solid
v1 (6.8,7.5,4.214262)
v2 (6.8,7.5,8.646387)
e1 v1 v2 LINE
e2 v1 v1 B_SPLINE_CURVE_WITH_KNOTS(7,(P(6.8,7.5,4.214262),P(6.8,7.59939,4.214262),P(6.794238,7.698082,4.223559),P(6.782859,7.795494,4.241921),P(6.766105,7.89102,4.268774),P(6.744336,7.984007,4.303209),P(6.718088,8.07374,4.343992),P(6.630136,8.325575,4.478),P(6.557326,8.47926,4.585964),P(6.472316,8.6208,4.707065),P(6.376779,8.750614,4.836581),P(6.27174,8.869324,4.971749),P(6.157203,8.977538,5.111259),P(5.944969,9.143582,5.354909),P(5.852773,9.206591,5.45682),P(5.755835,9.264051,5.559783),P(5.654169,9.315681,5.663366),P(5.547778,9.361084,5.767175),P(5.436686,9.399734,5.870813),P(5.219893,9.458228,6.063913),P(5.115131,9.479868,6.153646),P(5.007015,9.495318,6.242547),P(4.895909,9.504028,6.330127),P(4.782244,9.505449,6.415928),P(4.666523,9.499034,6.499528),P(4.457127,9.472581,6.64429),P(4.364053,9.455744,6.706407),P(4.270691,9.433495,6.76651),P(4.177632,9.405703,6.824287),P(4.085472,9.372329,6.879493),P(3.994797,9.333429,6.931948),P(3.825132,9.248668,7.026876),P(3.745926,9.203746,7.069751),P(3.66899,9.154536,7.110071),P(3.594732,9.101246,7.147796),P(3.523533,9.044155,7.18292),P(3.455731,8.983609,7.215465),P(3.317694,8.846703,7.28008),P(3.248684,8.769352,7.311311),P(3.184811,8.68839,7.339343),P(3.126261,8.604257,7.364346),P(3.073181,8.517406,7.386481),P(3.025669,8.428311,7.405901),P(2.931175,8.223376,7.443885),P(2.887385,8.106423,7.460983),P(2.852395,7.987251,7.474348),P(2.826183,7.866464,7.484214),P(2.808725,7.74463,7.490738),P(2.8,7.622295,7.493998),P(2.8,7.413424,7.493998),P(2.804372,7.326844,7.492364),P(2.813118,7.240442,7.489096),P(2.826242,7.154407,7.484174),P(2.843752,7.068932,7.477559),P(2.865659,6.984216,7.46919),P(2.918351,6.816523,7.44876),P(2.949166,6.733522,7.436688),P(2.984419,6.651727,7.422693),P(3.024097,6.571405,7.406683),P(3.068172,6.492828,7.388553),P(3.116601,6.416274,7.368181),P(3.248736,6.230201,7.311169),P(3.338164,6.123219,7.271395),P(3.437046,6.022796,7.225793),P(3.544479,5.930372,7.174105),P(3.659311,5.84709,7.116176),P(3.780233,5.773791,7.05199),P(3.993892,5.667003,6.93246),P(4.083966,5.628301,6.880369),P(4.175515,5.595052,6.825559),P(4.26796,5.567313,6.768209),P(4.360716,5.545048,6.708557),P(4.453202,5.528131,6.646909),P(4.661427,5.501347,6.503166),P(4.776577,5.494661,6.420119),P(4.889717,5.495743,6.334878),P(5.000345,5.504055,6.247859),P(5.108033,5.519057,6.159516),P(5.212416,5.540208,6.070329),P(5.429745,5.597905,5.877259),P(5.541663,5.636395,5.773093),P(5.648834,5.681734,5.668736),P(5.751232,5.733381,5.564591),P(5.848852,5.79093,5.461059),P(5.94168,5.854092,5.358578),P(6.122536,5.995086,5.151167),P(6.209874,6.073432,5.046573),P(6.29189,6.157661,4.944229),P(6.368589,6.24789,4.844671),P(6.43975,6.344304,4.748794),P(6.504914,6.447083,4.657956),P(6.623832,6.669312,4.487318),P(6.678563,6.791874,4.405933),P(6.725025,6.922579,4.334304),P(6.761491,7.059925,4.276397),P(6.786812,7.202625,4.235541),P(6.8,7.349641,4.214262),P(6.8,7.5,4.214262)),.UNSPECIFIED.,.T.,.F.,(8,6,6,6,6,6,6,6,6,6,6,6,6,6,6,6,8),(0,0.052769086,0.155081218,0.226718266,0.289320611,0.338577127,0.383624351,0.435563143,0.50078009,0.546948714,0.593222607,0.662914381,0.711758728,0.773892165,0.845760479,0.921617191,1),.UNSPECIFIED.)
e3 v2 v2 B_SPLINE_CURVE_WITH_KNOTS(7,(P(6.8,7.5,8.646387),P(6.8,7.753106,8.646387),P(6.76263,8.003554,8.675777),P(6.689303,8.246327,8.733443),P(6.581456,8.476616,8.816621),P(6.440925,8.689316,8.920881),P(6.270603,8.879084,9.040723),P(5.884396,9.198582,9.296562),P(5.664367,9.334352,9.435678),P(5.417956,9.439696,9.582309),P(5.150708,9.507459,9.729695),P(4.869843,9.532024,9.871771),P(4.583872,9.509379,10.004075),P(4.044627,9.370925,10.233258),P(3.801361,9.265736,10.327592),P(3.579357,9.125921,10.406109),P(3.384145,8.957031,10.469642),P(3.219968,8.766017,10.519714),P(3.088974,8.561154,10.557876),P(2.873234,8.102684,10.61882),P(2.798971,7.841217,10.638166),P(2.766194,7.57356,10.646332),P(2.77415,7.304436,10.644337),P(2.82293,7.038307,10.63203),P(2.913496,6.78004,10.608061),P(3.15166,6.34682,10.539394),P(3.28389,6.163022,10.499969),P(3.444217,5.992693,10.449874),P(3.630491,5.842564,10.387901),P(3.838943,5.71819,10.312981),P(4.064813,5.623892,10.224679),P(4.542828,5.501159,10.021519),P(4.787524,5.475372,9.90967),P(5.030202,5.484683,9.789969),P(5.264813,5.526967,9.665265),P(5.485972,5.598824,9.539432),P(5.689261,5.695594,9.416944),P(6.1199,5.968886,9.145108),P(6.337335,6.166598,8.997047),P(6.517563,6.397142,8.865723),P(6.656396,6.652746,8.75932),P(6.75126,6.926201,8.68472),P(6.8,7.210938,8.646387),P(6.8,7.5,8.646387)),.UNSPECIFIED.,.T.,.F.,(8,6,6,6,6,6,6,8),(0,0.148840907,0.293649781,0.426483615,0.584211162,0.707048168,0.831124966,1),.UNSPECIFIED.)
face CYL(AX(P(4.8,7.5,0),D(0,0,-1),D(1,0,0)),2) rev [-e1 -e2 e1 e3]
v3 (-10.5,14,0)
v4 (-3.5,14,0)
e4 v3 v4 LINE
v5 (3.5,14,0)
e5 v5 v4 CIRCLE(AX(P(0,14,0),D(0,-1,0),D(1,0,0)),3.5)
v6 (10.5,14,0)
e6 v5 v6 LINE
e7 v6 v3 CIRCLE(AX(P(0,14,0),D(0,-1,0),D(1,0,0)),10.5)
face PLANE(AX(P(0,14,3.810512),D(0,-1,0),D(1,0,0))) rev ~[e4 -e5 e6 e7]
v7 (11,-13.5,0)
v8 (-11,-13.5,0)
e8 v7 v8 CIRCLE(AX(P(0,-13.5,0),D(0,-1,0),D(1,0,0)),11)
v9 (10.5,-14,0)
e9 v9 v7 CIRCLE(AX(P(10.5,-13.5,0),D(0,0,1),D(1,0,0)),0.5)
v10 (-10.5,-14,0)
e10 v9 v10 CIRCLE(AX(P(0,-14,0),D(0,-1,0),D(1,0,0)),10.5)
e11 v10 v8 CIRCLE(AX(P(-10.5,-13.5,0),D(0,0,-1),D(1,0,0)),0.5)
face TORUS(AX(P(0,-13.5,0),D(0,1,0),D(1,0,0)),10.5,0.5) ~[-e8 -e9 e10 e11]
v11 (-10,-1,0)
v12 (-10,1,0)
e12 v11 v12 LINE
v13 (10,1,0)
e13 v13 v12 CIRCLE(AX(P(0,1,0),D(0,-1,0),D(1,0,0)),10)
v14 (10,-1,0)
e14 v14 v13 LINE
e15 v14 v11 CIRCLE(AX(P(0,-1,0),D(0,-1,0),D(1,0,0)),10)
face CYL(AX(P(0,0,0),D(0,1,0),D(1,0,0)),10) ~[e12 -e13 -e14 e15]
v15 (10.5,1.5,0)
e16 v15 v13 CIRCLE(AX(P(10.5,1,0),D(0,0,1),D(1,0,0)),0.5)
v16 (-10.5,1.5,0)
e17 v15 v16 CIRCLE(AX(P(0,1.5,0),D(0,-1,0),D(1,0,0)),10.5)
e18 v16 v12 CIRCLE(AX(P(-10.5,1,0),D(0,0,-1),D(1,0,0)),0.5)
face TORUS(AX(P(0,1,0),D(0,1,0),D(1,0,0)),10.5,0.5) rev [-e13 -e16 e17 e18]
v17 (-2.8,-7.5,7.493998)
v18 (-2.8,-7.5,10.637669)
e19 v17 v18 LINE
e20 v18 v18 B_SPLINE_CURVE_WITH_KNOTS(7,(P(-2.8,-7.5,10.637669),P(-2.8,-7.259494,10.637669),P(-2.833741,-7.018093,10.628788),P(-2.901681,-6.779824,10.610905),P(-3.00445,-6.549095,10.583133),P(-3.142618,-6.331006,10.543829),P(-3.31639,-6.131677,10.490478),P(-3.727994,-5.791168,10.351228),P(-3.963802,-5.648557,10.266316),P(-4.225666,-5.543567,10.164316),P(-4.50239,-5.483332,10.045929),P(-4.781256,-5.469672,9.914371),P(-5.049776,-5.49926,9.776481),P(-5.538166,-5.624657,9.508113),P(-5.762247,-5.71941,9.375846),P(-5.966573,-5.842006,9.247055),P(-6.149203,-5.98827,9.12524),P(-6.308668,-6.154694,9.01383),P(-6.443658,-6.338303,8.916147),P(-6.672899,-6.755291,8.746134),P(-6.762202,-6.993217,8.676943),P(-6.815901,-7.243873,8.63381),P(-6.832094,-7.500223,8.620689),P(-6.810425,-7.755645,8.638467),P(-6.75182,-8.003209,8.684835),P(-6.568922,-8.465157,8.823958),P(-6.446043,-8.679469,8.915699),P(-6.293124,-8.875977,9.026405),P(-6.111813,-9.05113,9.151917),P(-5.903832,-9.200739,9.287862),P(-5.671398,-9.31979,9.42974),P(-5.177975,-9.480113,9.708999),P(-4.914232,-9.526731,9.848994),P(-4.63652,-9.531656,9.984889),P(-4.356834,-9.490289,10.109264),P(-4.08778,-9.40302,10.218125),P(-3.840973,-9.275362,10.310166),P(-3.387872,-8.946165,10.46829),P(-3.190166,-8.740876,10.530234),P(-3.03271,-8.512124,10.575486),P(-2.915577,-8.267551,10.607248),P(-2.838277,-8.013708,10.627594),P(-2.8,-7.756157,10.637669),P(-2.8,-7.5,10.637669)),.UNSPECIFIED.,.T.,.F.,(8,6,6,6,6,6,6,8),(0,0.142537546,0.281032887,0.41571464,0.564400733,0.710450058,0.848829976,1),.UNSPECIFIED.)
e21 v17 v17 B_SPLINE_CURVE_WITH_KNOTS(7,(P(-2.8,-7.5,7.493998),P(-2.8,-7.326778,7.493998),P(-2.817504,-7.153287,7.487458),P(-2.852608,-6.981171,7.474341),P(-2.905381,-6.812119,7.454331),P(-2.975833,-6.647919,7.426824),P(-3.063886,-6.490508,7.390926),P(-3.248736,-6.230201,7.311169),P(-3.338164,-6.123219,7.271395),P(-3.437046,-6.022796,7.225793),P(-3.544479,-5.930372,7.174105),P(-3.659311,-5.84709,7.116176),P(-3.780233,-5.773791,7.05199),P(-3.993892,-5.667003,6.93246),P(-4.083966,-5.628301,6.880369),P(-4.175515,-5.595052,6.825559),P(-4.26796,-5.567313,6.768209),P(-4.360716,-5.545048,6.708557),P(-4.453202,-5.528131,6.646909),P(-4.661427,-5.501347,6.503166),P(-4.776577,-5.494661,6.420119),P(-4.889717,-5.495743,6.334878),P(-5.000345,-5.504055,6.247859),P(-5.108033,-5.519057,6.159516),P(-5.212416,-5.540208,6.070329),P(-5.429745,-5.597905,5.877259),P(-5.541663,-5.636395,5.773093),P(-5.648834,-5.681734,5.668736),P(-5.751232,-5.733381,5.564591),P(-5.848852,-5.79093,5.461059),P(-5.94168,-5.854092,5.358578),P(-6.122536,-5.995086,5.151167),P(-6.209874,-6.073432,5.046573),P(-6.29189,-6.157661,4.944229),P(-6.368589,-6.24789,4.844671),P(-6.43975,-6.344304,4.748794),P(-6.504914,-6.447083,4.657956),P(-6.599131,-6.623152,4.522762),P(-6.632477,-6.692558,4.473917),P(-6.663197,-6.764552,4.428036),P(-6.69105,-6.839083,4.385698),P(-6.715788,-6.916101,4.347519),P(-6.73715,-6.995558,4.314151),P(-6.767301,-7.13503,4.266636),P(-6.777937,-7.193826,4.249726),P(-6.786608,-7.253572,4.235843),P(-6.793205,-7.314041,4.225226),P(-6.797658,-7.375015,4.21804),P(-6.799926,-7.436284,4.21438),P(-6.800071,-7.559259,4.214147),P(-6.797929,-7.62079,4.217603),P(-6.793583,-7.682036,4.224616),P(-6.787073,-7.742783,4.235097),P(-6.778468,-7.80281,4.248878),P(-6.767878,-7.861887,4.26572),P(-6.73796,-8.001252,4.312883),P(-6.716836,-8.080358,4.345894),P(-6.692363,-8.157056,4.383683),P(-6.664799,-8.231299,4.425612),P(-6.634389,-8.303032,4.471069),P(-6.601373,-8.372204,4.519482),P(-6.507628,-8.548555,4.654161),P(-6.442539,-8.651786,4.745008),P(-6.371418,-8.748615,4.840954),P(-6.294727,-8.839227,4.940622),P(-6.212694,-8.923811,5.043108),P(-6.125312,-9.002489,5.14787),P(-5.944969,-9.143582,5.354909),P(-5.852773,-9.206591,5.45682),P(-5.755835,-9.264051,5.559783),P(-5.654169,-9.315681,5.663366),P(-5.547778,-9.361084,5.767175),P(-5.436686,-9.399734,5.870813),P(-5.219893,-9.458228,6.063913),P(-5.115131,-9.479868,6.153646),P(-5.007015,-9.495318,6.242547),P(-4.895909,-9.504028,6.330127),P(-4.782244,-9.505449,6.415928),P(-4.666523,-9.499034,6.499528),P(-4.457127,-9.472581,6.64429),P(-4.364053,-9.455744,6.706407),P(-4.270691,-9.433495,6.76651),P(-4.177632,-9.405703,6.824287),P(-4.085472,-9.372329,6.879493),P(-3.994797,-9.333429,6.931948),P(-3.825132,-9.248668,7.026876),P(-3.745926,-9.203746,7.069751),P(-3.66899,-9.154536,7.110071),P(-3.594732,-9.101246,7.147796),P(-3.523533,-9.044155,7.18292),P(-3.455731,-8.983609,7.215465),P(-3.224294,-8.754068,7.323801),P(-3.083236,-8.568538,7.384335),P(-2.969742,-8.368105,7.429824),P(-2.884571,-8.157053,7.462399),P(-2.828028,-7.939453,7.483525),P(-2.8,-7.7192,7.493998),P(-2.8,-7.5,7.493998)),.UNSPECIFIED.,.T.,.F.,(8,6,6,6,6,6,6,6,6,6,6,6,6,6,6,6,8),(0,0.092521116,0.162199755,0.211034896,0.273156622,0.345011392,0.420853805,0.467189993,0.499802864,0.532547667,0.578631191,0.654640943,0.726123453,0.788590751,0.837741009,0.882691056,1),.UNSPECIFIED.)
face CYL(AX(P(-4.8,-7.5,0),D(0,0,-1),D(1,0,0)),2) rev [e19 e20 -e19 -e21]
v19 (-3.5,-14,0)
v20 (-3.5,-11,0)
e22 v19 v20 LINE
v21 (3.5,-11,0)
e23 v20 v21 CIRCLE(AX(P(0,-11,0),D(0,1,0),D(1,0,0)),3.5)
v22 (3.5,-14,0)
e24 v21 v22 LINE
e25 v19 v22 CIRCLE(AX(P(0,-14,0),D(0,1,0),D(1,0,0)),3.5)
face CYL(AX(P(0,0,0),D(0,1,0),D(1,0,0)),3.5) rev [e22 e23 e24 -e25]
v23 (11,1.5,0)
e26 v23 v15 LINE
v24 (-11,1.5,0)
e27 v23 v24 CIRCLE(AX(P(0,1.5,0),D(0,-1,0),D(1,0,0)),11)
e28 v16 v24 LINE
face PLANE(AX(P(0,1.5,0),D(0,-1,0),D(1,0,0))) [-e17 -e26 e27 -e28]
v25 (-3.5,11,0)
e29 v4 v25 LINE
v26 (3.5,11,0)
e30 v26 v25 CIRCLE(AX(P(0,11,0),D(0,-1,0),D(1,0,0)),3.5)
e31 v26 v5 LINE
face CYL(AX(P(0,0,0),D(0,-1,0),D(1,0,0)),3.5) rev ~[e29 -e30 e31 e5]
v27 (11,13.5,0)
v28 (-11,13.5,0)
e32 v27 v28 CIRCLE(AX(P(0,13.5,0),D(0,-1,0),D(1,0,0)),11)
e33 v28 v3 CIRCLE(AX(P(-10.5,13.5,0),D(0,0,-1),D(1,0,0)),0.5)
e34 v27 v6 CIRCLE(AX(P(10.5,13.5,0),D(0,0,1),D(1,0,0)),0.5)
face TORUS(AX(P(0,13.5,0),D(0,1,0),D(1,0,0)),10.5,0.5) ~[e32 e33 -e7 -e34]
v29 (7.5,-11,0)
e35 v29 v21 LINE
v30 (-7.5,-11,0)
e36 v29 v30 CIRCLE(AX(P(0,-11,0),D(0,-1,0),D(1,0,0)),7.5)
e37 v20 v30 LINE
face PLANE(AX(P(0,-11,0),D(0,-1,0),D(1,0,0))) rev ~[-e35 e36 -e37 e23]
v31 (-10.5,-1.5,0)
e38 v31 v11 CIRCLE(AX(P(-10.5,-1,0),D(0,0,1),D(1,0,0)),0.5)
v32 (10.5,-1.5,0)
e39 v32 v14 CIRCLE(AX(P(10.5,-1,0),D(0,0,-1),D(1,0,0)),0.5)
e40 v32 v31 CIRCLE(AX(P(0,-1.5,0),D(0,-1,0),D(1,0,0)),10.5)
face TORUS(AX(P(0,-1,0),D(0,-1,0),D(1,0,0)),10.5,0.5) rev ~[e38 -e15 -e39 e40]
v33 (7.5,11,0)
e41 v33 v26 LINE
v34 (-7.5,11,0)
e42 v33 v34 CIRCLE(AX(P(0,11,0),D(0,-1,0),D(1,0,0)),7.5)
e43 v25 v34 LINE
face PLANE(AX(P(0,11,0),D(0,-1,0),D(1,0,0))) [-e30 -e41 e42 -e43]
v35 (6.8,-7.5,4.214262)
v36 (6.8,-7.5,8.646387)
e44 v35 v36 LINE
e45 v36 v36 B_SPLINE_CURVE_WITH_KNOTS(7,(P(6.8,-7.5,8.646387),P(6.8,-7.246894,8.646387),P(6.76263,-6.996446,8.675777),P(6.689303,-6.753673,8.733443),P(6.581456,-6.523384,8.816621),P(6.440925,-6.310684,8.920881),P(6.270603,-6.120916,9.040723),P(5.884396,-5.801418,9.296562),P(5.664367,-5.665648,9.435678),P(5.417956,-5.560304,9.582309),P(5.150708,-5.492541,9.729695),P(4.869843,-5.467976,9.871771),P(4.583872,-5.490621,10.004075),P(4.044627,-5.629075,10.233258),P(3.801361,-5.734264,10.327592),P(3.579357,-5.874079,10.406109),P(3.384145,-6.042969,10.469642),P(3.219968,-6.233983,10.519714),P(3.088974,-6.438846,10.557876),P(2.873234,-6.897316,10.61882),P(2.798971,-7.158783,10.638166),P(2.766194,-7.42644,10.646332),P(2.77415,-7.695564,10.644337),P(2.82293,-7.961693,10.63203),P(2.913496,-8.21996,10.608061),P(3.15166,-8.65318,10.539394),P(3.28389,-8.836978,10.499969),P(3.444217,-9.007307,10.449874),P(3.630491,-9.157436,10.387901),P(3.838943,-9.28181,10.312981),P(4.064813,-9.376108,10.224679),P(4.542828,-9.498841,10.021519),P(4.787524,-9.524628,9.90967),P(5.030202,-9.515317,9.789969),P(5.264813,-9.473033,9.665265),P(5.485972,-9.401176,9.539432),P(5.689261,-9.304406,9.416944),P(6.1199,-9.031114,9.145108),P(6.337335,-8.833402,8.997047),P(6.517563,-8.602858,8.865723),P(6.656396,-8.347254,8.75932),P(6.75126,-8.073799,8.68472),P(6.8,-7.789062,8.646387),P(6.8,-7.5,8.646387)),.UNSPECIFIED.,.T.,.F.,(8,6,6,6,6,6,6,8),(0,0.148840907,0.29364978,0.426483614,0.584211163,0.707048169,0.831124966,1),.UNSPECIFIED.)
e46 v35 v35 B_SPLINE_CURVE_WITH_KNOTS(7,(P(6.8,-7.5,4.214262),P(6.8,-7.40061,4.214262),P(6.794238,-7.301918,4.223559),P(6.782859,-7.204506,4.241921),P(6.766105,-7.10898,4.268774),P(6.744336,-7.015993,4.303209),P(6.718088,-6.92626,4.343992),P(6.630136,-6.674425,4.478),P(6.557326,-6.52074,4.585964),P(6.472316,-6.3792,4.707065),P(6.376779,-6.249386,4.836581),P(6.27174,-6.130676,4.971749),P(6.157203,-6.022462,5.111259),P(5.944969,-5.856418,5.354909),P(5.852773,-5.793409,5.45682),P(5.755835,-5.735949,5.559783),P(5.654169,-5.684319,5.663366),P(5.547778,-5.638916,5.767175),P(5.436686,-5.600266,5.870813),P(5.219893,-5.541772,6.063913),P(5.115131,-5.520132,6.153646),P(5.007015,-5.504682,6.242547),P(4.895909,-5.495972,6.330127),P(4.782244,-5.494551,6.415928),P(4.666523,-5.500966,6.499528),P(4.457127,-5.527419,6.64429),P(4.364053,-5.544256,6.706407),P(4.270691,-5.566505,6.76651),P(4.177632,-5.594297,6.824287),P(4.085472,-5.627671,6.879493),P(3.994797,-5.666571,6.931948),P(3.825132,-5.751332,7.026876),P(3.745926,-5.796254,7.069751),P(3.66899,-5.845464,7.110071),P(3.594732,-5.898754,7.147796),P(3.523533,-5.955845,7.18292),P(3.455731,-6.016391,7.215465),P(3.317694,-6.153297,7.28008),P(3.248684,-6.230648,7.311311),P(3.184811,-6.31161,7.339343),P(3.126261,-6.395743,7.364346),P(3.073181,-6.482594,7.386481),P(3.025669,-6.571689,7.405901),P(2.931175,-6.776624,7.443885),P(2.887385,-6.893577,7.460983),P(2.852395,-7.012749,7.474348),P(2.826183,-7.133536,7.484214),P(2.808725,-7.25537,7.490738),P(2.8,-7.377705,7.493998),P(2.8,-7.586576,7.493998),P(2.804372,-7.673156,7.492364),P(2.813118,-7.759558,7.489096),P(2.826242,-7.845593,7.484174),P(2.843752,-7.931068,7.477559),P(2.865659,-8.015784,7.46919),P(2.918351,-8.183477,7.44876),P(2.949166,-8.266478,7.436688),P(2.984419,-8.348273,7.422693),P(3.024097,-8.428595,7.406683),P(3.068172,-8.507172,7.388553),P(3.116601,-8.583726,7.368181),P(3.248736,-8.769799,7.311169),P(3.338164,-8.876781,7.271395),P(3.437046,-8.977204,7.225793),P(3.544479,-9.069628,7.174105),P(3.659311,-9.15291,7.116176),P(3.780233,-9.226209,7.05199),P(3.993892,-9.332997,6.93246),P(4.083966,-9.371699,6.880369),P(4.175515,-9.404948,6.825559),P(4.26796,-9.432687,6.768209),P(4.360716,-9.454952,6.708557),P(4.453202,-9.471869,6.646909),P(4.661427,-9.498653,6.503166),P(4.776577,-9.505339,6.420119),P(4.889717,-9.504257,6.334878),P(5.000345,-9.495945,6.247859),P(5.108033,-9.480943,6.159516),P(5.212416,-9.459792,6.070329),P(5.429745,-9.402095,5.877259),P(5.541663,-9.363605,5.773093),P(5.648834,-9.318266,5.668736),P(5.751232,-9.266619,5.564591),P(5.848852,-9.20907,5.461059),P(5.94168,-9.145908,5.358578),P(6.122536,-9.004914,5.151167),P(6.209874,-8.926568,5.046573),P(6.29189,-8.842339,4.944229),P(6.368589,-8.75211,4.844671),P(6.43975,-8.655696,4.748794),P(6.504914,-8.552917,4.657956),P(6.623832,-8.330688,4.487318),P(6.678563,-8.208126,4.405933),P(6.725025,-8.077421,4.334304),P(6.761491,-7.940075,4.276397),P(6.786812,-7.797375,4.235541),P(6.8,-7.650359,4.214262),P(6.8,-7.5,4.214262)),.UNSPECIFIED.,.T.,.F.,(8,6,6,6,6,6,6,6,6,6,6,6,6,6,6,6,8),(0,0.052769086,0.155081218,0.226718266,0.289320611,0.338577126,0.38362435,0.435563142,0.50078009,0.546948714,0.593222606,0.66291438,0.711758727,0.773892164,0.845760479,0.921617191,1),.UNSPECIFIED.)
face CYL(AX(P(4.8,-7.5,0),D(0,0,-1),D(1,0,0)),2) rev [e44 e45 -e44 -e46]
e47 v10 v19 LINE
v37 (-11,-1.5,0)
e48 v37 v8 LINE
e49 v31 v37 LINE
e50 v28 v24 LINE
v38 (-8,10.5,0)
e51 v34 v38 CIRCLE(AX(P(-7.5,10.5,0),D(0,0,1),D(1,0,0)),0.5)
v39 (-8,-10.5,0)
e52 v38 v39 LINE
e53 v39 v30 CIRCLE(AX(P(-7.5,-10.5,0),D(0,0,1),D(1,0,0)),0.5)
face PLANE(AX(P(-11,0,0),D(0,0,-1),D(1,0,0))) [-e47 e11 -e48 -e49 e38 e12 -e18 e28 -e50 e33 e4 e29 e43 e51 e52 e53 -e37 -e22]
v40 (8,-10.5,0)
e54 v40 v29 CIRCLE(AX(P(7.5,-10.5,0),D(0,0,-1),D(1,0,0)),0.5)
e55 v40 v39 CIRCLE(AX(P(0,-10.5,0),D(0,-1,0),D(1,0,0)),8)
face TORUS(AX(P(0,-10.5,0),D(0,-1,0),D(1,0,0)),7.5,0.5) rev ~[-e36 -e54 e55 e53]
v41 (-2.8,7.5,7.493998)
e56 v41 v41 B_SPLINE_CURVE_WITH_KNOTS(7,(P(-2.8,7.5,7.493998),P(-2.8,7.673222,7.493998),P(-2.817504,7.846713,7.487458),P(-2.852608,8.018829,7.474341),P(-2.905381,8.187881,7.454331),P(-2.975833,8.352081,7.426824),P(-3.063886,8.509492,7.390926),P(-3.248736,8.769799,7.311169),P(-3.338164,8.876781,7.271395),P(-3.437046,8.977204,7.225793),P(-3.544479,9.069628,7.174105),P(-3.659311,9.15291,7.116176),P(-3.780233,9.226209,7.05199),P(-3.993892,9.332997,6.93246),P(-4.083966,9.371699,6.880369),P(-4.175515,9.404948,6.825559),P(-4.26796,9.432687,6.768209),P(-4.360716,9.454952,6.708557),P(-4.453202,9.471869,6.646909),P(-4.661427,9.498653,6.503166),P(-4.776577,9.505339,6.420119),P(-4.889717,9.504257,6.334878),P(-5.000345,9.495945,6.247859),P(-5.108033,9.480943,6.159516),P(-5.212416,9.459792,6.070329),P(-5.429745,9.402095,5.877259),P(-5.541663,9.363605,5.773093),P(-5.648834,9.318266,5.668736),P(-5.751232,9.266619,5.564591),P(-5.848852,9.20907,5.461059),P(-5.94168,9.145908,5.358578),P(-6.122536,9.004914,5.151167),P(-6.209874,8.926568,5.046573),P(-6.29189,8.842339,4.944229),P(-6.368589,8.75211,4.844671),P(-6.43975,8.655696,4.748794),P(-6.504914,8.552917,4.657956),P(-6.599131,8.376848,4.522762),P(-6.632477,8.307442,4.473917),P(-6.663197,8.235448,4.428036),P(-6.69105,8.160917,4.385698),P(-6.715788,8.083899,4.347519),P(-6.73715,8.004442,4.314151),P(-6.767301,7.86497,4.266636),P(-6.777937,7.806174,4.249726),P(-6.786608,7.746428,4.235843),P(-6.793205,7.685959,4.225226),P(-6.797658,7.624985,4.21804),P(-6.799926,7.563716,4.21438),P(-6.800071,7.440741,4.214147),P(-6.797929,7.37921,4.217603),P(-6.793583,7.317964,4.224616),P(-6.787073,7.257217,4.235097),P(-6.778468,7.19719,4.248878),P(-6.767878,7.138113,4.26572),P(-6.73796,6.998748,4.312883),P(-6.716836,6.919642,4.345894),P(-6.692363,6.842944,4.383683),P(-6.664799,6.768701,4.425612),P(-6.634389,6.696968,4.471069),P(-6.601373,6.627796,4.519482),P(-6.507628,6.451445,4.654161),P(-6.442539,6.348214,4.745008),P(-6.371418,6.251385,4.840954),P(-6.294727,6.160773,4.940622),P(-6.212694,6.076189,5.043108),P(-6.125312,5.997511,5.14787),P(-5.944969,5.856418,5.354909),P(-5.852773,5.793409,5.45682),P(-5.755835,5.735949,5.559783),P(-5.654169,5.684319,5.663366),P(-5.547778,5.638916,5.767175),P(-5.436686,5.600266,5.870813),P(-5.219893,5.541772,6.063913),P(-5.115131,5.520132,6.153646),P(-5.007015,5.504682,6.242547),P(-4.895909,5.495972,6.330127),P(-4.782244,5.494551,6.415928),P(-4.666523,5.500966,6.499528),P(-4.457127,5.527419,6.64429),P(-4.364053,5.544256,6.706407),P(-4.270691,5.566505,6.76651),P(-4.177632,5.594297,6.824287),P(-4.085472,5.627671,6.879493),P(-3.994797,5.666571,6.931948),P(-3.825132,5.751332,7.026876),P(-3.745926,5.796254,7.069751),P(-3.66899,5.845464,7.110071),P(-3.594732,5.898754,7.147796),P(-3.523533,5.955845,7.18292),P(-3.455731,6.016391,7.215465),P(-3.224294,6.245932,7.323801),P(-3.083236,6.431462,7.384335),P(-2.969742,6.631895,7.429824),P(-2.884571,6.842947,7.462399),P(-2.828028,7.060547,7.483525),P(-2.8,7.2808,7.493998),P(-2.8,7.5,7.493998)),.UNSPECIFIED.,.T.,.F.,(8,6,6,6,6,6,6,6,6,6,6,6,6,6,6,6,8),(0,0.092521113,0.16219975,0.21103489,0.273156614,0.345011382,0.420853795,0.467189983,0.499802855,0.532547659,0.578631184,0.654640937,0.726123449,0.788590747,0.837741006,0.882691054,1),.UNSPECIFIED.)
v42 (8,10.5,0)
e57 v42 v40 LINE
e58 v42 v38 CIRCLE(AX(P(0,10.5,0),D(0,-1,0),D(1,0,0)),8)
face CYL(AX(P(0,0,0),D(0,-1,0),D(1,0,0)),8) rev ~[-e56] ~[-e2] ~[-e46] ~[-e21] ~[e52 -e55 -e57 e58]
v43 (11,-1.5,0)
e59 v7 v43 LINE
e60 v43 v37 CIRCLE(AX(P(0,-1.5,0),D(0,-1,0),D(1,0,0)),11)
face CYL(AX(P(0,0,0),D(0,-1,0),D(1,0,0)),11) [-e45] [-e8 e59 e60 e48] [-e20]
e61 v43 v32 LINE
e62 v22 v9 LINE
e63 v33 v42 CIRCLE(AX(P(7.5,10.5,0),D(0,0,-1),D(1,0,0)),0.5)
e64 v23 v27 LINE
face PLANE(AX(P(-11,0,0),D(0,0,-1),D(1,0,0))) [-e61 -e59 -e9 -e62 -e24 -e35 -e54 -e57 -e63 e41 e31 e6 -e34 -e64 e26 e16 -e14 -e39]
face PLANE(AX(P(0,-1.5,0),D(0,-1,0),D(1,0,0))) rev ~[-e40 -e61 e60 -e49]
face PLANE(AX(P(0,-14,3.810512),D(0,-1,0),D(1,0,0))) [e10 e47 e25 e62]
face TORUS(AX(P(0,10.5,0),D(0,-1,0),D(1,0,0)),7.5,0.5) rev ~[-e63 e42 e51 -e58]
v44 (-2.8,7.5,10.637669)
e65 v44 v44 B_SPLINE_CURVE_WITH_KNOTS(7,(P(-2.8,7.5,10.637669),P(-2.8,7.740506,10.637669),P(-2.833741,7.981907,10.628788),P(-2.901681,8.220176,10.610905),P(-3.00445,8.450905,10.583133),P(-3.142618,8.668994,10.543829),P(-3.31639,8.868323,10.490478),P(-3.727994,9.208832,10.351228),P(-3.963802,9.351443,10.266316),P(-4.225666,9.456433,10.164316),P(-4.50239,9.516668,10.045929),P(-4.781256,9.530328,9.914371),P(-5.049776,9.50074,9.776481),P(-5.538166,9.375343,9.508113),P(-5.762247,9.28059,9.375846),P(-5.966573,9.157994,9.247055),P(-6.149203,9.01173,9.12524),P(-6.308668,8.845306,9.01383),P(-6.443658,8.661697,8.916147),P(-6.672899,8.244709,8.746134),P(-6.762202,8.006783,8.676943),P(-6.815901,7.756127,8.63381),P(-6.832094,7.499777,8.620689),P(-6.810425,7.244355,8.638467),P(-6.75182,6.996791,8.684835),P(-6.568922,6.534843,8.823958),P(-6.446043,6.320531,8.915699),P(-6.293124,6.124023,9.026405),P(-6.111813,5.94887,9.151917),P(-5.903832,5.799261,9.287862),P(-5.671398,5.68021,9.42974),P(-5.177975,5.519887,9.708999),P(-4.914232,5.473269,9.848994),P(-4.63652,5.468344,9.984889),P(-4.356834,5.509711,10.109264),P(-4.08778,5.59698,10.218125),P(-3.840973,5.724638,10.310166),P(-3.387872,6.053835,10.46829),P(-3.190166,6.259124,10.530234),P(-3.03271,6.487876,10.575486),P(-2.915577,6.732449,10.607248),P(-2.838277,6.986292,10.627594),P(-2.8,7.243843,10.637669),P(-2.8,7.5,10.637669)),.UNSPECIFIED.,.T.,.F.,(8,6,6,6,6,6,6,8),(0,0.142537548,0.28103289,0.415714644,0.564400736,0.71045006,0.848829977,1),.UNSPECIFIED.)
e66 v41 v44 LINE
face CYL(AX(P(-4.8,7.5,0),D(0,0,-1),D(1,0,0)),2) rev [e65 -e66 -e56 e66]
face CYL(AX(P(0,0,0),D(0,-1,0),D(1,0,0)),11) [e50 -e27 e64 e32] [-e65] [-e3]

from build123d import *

# Parameters (mm, degrees)
F1_DEPTH      = 14
F2_R          = 8
F3_DEPTH      = 11
F4_R          = 3.5
F5_DEPTH      = 14.001
F5_DEPTH_BACK = 14.001
F6_R          = 2
F7_DEPTH      = 11.001
F8_R          = 11
F8_R_2        = 10
F9_DEPTH      = 1.5
F10_R         = 0.5


with BuildPart() as f1:
    # F0 (on Front) → F1 (new body, symmetric)
    with BuildSketch(Plane.XZ):
        with BuildLine():
            Line((8, 0), (11, 0))
            ThreePointArc((11, 0), (0, 11), (-11, 0))
            Line((-11, 0), (-8, 0))
            Line((-8, 0), (8, 0))
        make_face()
    extrude(amount=F1_DEPTH, both=True)

    # F2 (on Front) → F3 (cut, symmetric)
    with BuildSketch(Plane.XZ):
        Circle(F2_R)
    extrude(amount=F3_DEPTH, both=True, mode=Mode.SUBTRACT)

    # F4 (on Front) → F5 (cut, two sides)
    with BuildSketch(Plane.XZ) as f5_sk:
        Circle(F4_R)
    extrude(amount=-F5_DEPTH, mode=Mode.SUBTRACT)
    extrude(f5_sk.sketch, amount=F5_DEPTH_BACK, mode=Mode.SUBTRACT)

    # F6 (on Top) → F7 (cut, through all)
    with BuildSketch(Plane.XY):
        with Locations((4.8, 7.5)):
            Circle(F6_R)
        with Locations((-4.8, 7.5)):
            Circle(F6_R)
        with Locations((4.8, -7.5)):
            Circle(F6_R)
        with Locations((-4.8, -7.5)):
            Circle(F6_R)
    extrude(amount=F7_DEPTH, mode=Mode.SUBTRACT)

    # F8 (on Front) → F9 (cut, symmetric)
    with BuildSketch(Plane.XZ):
        Circle(F8_R)
        Circle(F8_R_2, mode=Mode.SUBTRACT)
    extrude(amount=F9_DEPTH, both=True, mode=Mode.SUBTRACT)

    # F10
    f10_edges = [f1.edges().sort_by_distance(p)[0] for p in [
        (0, 1.5, 10),
        (0, -1.5, 10),
        (0, 14, 11),
        (0, -14, 11),
        (0, 11, 8),
        (0, -11, 8),
    ]]
    fillet(f10_edges, radius=F10_R)


solid = f1.part
